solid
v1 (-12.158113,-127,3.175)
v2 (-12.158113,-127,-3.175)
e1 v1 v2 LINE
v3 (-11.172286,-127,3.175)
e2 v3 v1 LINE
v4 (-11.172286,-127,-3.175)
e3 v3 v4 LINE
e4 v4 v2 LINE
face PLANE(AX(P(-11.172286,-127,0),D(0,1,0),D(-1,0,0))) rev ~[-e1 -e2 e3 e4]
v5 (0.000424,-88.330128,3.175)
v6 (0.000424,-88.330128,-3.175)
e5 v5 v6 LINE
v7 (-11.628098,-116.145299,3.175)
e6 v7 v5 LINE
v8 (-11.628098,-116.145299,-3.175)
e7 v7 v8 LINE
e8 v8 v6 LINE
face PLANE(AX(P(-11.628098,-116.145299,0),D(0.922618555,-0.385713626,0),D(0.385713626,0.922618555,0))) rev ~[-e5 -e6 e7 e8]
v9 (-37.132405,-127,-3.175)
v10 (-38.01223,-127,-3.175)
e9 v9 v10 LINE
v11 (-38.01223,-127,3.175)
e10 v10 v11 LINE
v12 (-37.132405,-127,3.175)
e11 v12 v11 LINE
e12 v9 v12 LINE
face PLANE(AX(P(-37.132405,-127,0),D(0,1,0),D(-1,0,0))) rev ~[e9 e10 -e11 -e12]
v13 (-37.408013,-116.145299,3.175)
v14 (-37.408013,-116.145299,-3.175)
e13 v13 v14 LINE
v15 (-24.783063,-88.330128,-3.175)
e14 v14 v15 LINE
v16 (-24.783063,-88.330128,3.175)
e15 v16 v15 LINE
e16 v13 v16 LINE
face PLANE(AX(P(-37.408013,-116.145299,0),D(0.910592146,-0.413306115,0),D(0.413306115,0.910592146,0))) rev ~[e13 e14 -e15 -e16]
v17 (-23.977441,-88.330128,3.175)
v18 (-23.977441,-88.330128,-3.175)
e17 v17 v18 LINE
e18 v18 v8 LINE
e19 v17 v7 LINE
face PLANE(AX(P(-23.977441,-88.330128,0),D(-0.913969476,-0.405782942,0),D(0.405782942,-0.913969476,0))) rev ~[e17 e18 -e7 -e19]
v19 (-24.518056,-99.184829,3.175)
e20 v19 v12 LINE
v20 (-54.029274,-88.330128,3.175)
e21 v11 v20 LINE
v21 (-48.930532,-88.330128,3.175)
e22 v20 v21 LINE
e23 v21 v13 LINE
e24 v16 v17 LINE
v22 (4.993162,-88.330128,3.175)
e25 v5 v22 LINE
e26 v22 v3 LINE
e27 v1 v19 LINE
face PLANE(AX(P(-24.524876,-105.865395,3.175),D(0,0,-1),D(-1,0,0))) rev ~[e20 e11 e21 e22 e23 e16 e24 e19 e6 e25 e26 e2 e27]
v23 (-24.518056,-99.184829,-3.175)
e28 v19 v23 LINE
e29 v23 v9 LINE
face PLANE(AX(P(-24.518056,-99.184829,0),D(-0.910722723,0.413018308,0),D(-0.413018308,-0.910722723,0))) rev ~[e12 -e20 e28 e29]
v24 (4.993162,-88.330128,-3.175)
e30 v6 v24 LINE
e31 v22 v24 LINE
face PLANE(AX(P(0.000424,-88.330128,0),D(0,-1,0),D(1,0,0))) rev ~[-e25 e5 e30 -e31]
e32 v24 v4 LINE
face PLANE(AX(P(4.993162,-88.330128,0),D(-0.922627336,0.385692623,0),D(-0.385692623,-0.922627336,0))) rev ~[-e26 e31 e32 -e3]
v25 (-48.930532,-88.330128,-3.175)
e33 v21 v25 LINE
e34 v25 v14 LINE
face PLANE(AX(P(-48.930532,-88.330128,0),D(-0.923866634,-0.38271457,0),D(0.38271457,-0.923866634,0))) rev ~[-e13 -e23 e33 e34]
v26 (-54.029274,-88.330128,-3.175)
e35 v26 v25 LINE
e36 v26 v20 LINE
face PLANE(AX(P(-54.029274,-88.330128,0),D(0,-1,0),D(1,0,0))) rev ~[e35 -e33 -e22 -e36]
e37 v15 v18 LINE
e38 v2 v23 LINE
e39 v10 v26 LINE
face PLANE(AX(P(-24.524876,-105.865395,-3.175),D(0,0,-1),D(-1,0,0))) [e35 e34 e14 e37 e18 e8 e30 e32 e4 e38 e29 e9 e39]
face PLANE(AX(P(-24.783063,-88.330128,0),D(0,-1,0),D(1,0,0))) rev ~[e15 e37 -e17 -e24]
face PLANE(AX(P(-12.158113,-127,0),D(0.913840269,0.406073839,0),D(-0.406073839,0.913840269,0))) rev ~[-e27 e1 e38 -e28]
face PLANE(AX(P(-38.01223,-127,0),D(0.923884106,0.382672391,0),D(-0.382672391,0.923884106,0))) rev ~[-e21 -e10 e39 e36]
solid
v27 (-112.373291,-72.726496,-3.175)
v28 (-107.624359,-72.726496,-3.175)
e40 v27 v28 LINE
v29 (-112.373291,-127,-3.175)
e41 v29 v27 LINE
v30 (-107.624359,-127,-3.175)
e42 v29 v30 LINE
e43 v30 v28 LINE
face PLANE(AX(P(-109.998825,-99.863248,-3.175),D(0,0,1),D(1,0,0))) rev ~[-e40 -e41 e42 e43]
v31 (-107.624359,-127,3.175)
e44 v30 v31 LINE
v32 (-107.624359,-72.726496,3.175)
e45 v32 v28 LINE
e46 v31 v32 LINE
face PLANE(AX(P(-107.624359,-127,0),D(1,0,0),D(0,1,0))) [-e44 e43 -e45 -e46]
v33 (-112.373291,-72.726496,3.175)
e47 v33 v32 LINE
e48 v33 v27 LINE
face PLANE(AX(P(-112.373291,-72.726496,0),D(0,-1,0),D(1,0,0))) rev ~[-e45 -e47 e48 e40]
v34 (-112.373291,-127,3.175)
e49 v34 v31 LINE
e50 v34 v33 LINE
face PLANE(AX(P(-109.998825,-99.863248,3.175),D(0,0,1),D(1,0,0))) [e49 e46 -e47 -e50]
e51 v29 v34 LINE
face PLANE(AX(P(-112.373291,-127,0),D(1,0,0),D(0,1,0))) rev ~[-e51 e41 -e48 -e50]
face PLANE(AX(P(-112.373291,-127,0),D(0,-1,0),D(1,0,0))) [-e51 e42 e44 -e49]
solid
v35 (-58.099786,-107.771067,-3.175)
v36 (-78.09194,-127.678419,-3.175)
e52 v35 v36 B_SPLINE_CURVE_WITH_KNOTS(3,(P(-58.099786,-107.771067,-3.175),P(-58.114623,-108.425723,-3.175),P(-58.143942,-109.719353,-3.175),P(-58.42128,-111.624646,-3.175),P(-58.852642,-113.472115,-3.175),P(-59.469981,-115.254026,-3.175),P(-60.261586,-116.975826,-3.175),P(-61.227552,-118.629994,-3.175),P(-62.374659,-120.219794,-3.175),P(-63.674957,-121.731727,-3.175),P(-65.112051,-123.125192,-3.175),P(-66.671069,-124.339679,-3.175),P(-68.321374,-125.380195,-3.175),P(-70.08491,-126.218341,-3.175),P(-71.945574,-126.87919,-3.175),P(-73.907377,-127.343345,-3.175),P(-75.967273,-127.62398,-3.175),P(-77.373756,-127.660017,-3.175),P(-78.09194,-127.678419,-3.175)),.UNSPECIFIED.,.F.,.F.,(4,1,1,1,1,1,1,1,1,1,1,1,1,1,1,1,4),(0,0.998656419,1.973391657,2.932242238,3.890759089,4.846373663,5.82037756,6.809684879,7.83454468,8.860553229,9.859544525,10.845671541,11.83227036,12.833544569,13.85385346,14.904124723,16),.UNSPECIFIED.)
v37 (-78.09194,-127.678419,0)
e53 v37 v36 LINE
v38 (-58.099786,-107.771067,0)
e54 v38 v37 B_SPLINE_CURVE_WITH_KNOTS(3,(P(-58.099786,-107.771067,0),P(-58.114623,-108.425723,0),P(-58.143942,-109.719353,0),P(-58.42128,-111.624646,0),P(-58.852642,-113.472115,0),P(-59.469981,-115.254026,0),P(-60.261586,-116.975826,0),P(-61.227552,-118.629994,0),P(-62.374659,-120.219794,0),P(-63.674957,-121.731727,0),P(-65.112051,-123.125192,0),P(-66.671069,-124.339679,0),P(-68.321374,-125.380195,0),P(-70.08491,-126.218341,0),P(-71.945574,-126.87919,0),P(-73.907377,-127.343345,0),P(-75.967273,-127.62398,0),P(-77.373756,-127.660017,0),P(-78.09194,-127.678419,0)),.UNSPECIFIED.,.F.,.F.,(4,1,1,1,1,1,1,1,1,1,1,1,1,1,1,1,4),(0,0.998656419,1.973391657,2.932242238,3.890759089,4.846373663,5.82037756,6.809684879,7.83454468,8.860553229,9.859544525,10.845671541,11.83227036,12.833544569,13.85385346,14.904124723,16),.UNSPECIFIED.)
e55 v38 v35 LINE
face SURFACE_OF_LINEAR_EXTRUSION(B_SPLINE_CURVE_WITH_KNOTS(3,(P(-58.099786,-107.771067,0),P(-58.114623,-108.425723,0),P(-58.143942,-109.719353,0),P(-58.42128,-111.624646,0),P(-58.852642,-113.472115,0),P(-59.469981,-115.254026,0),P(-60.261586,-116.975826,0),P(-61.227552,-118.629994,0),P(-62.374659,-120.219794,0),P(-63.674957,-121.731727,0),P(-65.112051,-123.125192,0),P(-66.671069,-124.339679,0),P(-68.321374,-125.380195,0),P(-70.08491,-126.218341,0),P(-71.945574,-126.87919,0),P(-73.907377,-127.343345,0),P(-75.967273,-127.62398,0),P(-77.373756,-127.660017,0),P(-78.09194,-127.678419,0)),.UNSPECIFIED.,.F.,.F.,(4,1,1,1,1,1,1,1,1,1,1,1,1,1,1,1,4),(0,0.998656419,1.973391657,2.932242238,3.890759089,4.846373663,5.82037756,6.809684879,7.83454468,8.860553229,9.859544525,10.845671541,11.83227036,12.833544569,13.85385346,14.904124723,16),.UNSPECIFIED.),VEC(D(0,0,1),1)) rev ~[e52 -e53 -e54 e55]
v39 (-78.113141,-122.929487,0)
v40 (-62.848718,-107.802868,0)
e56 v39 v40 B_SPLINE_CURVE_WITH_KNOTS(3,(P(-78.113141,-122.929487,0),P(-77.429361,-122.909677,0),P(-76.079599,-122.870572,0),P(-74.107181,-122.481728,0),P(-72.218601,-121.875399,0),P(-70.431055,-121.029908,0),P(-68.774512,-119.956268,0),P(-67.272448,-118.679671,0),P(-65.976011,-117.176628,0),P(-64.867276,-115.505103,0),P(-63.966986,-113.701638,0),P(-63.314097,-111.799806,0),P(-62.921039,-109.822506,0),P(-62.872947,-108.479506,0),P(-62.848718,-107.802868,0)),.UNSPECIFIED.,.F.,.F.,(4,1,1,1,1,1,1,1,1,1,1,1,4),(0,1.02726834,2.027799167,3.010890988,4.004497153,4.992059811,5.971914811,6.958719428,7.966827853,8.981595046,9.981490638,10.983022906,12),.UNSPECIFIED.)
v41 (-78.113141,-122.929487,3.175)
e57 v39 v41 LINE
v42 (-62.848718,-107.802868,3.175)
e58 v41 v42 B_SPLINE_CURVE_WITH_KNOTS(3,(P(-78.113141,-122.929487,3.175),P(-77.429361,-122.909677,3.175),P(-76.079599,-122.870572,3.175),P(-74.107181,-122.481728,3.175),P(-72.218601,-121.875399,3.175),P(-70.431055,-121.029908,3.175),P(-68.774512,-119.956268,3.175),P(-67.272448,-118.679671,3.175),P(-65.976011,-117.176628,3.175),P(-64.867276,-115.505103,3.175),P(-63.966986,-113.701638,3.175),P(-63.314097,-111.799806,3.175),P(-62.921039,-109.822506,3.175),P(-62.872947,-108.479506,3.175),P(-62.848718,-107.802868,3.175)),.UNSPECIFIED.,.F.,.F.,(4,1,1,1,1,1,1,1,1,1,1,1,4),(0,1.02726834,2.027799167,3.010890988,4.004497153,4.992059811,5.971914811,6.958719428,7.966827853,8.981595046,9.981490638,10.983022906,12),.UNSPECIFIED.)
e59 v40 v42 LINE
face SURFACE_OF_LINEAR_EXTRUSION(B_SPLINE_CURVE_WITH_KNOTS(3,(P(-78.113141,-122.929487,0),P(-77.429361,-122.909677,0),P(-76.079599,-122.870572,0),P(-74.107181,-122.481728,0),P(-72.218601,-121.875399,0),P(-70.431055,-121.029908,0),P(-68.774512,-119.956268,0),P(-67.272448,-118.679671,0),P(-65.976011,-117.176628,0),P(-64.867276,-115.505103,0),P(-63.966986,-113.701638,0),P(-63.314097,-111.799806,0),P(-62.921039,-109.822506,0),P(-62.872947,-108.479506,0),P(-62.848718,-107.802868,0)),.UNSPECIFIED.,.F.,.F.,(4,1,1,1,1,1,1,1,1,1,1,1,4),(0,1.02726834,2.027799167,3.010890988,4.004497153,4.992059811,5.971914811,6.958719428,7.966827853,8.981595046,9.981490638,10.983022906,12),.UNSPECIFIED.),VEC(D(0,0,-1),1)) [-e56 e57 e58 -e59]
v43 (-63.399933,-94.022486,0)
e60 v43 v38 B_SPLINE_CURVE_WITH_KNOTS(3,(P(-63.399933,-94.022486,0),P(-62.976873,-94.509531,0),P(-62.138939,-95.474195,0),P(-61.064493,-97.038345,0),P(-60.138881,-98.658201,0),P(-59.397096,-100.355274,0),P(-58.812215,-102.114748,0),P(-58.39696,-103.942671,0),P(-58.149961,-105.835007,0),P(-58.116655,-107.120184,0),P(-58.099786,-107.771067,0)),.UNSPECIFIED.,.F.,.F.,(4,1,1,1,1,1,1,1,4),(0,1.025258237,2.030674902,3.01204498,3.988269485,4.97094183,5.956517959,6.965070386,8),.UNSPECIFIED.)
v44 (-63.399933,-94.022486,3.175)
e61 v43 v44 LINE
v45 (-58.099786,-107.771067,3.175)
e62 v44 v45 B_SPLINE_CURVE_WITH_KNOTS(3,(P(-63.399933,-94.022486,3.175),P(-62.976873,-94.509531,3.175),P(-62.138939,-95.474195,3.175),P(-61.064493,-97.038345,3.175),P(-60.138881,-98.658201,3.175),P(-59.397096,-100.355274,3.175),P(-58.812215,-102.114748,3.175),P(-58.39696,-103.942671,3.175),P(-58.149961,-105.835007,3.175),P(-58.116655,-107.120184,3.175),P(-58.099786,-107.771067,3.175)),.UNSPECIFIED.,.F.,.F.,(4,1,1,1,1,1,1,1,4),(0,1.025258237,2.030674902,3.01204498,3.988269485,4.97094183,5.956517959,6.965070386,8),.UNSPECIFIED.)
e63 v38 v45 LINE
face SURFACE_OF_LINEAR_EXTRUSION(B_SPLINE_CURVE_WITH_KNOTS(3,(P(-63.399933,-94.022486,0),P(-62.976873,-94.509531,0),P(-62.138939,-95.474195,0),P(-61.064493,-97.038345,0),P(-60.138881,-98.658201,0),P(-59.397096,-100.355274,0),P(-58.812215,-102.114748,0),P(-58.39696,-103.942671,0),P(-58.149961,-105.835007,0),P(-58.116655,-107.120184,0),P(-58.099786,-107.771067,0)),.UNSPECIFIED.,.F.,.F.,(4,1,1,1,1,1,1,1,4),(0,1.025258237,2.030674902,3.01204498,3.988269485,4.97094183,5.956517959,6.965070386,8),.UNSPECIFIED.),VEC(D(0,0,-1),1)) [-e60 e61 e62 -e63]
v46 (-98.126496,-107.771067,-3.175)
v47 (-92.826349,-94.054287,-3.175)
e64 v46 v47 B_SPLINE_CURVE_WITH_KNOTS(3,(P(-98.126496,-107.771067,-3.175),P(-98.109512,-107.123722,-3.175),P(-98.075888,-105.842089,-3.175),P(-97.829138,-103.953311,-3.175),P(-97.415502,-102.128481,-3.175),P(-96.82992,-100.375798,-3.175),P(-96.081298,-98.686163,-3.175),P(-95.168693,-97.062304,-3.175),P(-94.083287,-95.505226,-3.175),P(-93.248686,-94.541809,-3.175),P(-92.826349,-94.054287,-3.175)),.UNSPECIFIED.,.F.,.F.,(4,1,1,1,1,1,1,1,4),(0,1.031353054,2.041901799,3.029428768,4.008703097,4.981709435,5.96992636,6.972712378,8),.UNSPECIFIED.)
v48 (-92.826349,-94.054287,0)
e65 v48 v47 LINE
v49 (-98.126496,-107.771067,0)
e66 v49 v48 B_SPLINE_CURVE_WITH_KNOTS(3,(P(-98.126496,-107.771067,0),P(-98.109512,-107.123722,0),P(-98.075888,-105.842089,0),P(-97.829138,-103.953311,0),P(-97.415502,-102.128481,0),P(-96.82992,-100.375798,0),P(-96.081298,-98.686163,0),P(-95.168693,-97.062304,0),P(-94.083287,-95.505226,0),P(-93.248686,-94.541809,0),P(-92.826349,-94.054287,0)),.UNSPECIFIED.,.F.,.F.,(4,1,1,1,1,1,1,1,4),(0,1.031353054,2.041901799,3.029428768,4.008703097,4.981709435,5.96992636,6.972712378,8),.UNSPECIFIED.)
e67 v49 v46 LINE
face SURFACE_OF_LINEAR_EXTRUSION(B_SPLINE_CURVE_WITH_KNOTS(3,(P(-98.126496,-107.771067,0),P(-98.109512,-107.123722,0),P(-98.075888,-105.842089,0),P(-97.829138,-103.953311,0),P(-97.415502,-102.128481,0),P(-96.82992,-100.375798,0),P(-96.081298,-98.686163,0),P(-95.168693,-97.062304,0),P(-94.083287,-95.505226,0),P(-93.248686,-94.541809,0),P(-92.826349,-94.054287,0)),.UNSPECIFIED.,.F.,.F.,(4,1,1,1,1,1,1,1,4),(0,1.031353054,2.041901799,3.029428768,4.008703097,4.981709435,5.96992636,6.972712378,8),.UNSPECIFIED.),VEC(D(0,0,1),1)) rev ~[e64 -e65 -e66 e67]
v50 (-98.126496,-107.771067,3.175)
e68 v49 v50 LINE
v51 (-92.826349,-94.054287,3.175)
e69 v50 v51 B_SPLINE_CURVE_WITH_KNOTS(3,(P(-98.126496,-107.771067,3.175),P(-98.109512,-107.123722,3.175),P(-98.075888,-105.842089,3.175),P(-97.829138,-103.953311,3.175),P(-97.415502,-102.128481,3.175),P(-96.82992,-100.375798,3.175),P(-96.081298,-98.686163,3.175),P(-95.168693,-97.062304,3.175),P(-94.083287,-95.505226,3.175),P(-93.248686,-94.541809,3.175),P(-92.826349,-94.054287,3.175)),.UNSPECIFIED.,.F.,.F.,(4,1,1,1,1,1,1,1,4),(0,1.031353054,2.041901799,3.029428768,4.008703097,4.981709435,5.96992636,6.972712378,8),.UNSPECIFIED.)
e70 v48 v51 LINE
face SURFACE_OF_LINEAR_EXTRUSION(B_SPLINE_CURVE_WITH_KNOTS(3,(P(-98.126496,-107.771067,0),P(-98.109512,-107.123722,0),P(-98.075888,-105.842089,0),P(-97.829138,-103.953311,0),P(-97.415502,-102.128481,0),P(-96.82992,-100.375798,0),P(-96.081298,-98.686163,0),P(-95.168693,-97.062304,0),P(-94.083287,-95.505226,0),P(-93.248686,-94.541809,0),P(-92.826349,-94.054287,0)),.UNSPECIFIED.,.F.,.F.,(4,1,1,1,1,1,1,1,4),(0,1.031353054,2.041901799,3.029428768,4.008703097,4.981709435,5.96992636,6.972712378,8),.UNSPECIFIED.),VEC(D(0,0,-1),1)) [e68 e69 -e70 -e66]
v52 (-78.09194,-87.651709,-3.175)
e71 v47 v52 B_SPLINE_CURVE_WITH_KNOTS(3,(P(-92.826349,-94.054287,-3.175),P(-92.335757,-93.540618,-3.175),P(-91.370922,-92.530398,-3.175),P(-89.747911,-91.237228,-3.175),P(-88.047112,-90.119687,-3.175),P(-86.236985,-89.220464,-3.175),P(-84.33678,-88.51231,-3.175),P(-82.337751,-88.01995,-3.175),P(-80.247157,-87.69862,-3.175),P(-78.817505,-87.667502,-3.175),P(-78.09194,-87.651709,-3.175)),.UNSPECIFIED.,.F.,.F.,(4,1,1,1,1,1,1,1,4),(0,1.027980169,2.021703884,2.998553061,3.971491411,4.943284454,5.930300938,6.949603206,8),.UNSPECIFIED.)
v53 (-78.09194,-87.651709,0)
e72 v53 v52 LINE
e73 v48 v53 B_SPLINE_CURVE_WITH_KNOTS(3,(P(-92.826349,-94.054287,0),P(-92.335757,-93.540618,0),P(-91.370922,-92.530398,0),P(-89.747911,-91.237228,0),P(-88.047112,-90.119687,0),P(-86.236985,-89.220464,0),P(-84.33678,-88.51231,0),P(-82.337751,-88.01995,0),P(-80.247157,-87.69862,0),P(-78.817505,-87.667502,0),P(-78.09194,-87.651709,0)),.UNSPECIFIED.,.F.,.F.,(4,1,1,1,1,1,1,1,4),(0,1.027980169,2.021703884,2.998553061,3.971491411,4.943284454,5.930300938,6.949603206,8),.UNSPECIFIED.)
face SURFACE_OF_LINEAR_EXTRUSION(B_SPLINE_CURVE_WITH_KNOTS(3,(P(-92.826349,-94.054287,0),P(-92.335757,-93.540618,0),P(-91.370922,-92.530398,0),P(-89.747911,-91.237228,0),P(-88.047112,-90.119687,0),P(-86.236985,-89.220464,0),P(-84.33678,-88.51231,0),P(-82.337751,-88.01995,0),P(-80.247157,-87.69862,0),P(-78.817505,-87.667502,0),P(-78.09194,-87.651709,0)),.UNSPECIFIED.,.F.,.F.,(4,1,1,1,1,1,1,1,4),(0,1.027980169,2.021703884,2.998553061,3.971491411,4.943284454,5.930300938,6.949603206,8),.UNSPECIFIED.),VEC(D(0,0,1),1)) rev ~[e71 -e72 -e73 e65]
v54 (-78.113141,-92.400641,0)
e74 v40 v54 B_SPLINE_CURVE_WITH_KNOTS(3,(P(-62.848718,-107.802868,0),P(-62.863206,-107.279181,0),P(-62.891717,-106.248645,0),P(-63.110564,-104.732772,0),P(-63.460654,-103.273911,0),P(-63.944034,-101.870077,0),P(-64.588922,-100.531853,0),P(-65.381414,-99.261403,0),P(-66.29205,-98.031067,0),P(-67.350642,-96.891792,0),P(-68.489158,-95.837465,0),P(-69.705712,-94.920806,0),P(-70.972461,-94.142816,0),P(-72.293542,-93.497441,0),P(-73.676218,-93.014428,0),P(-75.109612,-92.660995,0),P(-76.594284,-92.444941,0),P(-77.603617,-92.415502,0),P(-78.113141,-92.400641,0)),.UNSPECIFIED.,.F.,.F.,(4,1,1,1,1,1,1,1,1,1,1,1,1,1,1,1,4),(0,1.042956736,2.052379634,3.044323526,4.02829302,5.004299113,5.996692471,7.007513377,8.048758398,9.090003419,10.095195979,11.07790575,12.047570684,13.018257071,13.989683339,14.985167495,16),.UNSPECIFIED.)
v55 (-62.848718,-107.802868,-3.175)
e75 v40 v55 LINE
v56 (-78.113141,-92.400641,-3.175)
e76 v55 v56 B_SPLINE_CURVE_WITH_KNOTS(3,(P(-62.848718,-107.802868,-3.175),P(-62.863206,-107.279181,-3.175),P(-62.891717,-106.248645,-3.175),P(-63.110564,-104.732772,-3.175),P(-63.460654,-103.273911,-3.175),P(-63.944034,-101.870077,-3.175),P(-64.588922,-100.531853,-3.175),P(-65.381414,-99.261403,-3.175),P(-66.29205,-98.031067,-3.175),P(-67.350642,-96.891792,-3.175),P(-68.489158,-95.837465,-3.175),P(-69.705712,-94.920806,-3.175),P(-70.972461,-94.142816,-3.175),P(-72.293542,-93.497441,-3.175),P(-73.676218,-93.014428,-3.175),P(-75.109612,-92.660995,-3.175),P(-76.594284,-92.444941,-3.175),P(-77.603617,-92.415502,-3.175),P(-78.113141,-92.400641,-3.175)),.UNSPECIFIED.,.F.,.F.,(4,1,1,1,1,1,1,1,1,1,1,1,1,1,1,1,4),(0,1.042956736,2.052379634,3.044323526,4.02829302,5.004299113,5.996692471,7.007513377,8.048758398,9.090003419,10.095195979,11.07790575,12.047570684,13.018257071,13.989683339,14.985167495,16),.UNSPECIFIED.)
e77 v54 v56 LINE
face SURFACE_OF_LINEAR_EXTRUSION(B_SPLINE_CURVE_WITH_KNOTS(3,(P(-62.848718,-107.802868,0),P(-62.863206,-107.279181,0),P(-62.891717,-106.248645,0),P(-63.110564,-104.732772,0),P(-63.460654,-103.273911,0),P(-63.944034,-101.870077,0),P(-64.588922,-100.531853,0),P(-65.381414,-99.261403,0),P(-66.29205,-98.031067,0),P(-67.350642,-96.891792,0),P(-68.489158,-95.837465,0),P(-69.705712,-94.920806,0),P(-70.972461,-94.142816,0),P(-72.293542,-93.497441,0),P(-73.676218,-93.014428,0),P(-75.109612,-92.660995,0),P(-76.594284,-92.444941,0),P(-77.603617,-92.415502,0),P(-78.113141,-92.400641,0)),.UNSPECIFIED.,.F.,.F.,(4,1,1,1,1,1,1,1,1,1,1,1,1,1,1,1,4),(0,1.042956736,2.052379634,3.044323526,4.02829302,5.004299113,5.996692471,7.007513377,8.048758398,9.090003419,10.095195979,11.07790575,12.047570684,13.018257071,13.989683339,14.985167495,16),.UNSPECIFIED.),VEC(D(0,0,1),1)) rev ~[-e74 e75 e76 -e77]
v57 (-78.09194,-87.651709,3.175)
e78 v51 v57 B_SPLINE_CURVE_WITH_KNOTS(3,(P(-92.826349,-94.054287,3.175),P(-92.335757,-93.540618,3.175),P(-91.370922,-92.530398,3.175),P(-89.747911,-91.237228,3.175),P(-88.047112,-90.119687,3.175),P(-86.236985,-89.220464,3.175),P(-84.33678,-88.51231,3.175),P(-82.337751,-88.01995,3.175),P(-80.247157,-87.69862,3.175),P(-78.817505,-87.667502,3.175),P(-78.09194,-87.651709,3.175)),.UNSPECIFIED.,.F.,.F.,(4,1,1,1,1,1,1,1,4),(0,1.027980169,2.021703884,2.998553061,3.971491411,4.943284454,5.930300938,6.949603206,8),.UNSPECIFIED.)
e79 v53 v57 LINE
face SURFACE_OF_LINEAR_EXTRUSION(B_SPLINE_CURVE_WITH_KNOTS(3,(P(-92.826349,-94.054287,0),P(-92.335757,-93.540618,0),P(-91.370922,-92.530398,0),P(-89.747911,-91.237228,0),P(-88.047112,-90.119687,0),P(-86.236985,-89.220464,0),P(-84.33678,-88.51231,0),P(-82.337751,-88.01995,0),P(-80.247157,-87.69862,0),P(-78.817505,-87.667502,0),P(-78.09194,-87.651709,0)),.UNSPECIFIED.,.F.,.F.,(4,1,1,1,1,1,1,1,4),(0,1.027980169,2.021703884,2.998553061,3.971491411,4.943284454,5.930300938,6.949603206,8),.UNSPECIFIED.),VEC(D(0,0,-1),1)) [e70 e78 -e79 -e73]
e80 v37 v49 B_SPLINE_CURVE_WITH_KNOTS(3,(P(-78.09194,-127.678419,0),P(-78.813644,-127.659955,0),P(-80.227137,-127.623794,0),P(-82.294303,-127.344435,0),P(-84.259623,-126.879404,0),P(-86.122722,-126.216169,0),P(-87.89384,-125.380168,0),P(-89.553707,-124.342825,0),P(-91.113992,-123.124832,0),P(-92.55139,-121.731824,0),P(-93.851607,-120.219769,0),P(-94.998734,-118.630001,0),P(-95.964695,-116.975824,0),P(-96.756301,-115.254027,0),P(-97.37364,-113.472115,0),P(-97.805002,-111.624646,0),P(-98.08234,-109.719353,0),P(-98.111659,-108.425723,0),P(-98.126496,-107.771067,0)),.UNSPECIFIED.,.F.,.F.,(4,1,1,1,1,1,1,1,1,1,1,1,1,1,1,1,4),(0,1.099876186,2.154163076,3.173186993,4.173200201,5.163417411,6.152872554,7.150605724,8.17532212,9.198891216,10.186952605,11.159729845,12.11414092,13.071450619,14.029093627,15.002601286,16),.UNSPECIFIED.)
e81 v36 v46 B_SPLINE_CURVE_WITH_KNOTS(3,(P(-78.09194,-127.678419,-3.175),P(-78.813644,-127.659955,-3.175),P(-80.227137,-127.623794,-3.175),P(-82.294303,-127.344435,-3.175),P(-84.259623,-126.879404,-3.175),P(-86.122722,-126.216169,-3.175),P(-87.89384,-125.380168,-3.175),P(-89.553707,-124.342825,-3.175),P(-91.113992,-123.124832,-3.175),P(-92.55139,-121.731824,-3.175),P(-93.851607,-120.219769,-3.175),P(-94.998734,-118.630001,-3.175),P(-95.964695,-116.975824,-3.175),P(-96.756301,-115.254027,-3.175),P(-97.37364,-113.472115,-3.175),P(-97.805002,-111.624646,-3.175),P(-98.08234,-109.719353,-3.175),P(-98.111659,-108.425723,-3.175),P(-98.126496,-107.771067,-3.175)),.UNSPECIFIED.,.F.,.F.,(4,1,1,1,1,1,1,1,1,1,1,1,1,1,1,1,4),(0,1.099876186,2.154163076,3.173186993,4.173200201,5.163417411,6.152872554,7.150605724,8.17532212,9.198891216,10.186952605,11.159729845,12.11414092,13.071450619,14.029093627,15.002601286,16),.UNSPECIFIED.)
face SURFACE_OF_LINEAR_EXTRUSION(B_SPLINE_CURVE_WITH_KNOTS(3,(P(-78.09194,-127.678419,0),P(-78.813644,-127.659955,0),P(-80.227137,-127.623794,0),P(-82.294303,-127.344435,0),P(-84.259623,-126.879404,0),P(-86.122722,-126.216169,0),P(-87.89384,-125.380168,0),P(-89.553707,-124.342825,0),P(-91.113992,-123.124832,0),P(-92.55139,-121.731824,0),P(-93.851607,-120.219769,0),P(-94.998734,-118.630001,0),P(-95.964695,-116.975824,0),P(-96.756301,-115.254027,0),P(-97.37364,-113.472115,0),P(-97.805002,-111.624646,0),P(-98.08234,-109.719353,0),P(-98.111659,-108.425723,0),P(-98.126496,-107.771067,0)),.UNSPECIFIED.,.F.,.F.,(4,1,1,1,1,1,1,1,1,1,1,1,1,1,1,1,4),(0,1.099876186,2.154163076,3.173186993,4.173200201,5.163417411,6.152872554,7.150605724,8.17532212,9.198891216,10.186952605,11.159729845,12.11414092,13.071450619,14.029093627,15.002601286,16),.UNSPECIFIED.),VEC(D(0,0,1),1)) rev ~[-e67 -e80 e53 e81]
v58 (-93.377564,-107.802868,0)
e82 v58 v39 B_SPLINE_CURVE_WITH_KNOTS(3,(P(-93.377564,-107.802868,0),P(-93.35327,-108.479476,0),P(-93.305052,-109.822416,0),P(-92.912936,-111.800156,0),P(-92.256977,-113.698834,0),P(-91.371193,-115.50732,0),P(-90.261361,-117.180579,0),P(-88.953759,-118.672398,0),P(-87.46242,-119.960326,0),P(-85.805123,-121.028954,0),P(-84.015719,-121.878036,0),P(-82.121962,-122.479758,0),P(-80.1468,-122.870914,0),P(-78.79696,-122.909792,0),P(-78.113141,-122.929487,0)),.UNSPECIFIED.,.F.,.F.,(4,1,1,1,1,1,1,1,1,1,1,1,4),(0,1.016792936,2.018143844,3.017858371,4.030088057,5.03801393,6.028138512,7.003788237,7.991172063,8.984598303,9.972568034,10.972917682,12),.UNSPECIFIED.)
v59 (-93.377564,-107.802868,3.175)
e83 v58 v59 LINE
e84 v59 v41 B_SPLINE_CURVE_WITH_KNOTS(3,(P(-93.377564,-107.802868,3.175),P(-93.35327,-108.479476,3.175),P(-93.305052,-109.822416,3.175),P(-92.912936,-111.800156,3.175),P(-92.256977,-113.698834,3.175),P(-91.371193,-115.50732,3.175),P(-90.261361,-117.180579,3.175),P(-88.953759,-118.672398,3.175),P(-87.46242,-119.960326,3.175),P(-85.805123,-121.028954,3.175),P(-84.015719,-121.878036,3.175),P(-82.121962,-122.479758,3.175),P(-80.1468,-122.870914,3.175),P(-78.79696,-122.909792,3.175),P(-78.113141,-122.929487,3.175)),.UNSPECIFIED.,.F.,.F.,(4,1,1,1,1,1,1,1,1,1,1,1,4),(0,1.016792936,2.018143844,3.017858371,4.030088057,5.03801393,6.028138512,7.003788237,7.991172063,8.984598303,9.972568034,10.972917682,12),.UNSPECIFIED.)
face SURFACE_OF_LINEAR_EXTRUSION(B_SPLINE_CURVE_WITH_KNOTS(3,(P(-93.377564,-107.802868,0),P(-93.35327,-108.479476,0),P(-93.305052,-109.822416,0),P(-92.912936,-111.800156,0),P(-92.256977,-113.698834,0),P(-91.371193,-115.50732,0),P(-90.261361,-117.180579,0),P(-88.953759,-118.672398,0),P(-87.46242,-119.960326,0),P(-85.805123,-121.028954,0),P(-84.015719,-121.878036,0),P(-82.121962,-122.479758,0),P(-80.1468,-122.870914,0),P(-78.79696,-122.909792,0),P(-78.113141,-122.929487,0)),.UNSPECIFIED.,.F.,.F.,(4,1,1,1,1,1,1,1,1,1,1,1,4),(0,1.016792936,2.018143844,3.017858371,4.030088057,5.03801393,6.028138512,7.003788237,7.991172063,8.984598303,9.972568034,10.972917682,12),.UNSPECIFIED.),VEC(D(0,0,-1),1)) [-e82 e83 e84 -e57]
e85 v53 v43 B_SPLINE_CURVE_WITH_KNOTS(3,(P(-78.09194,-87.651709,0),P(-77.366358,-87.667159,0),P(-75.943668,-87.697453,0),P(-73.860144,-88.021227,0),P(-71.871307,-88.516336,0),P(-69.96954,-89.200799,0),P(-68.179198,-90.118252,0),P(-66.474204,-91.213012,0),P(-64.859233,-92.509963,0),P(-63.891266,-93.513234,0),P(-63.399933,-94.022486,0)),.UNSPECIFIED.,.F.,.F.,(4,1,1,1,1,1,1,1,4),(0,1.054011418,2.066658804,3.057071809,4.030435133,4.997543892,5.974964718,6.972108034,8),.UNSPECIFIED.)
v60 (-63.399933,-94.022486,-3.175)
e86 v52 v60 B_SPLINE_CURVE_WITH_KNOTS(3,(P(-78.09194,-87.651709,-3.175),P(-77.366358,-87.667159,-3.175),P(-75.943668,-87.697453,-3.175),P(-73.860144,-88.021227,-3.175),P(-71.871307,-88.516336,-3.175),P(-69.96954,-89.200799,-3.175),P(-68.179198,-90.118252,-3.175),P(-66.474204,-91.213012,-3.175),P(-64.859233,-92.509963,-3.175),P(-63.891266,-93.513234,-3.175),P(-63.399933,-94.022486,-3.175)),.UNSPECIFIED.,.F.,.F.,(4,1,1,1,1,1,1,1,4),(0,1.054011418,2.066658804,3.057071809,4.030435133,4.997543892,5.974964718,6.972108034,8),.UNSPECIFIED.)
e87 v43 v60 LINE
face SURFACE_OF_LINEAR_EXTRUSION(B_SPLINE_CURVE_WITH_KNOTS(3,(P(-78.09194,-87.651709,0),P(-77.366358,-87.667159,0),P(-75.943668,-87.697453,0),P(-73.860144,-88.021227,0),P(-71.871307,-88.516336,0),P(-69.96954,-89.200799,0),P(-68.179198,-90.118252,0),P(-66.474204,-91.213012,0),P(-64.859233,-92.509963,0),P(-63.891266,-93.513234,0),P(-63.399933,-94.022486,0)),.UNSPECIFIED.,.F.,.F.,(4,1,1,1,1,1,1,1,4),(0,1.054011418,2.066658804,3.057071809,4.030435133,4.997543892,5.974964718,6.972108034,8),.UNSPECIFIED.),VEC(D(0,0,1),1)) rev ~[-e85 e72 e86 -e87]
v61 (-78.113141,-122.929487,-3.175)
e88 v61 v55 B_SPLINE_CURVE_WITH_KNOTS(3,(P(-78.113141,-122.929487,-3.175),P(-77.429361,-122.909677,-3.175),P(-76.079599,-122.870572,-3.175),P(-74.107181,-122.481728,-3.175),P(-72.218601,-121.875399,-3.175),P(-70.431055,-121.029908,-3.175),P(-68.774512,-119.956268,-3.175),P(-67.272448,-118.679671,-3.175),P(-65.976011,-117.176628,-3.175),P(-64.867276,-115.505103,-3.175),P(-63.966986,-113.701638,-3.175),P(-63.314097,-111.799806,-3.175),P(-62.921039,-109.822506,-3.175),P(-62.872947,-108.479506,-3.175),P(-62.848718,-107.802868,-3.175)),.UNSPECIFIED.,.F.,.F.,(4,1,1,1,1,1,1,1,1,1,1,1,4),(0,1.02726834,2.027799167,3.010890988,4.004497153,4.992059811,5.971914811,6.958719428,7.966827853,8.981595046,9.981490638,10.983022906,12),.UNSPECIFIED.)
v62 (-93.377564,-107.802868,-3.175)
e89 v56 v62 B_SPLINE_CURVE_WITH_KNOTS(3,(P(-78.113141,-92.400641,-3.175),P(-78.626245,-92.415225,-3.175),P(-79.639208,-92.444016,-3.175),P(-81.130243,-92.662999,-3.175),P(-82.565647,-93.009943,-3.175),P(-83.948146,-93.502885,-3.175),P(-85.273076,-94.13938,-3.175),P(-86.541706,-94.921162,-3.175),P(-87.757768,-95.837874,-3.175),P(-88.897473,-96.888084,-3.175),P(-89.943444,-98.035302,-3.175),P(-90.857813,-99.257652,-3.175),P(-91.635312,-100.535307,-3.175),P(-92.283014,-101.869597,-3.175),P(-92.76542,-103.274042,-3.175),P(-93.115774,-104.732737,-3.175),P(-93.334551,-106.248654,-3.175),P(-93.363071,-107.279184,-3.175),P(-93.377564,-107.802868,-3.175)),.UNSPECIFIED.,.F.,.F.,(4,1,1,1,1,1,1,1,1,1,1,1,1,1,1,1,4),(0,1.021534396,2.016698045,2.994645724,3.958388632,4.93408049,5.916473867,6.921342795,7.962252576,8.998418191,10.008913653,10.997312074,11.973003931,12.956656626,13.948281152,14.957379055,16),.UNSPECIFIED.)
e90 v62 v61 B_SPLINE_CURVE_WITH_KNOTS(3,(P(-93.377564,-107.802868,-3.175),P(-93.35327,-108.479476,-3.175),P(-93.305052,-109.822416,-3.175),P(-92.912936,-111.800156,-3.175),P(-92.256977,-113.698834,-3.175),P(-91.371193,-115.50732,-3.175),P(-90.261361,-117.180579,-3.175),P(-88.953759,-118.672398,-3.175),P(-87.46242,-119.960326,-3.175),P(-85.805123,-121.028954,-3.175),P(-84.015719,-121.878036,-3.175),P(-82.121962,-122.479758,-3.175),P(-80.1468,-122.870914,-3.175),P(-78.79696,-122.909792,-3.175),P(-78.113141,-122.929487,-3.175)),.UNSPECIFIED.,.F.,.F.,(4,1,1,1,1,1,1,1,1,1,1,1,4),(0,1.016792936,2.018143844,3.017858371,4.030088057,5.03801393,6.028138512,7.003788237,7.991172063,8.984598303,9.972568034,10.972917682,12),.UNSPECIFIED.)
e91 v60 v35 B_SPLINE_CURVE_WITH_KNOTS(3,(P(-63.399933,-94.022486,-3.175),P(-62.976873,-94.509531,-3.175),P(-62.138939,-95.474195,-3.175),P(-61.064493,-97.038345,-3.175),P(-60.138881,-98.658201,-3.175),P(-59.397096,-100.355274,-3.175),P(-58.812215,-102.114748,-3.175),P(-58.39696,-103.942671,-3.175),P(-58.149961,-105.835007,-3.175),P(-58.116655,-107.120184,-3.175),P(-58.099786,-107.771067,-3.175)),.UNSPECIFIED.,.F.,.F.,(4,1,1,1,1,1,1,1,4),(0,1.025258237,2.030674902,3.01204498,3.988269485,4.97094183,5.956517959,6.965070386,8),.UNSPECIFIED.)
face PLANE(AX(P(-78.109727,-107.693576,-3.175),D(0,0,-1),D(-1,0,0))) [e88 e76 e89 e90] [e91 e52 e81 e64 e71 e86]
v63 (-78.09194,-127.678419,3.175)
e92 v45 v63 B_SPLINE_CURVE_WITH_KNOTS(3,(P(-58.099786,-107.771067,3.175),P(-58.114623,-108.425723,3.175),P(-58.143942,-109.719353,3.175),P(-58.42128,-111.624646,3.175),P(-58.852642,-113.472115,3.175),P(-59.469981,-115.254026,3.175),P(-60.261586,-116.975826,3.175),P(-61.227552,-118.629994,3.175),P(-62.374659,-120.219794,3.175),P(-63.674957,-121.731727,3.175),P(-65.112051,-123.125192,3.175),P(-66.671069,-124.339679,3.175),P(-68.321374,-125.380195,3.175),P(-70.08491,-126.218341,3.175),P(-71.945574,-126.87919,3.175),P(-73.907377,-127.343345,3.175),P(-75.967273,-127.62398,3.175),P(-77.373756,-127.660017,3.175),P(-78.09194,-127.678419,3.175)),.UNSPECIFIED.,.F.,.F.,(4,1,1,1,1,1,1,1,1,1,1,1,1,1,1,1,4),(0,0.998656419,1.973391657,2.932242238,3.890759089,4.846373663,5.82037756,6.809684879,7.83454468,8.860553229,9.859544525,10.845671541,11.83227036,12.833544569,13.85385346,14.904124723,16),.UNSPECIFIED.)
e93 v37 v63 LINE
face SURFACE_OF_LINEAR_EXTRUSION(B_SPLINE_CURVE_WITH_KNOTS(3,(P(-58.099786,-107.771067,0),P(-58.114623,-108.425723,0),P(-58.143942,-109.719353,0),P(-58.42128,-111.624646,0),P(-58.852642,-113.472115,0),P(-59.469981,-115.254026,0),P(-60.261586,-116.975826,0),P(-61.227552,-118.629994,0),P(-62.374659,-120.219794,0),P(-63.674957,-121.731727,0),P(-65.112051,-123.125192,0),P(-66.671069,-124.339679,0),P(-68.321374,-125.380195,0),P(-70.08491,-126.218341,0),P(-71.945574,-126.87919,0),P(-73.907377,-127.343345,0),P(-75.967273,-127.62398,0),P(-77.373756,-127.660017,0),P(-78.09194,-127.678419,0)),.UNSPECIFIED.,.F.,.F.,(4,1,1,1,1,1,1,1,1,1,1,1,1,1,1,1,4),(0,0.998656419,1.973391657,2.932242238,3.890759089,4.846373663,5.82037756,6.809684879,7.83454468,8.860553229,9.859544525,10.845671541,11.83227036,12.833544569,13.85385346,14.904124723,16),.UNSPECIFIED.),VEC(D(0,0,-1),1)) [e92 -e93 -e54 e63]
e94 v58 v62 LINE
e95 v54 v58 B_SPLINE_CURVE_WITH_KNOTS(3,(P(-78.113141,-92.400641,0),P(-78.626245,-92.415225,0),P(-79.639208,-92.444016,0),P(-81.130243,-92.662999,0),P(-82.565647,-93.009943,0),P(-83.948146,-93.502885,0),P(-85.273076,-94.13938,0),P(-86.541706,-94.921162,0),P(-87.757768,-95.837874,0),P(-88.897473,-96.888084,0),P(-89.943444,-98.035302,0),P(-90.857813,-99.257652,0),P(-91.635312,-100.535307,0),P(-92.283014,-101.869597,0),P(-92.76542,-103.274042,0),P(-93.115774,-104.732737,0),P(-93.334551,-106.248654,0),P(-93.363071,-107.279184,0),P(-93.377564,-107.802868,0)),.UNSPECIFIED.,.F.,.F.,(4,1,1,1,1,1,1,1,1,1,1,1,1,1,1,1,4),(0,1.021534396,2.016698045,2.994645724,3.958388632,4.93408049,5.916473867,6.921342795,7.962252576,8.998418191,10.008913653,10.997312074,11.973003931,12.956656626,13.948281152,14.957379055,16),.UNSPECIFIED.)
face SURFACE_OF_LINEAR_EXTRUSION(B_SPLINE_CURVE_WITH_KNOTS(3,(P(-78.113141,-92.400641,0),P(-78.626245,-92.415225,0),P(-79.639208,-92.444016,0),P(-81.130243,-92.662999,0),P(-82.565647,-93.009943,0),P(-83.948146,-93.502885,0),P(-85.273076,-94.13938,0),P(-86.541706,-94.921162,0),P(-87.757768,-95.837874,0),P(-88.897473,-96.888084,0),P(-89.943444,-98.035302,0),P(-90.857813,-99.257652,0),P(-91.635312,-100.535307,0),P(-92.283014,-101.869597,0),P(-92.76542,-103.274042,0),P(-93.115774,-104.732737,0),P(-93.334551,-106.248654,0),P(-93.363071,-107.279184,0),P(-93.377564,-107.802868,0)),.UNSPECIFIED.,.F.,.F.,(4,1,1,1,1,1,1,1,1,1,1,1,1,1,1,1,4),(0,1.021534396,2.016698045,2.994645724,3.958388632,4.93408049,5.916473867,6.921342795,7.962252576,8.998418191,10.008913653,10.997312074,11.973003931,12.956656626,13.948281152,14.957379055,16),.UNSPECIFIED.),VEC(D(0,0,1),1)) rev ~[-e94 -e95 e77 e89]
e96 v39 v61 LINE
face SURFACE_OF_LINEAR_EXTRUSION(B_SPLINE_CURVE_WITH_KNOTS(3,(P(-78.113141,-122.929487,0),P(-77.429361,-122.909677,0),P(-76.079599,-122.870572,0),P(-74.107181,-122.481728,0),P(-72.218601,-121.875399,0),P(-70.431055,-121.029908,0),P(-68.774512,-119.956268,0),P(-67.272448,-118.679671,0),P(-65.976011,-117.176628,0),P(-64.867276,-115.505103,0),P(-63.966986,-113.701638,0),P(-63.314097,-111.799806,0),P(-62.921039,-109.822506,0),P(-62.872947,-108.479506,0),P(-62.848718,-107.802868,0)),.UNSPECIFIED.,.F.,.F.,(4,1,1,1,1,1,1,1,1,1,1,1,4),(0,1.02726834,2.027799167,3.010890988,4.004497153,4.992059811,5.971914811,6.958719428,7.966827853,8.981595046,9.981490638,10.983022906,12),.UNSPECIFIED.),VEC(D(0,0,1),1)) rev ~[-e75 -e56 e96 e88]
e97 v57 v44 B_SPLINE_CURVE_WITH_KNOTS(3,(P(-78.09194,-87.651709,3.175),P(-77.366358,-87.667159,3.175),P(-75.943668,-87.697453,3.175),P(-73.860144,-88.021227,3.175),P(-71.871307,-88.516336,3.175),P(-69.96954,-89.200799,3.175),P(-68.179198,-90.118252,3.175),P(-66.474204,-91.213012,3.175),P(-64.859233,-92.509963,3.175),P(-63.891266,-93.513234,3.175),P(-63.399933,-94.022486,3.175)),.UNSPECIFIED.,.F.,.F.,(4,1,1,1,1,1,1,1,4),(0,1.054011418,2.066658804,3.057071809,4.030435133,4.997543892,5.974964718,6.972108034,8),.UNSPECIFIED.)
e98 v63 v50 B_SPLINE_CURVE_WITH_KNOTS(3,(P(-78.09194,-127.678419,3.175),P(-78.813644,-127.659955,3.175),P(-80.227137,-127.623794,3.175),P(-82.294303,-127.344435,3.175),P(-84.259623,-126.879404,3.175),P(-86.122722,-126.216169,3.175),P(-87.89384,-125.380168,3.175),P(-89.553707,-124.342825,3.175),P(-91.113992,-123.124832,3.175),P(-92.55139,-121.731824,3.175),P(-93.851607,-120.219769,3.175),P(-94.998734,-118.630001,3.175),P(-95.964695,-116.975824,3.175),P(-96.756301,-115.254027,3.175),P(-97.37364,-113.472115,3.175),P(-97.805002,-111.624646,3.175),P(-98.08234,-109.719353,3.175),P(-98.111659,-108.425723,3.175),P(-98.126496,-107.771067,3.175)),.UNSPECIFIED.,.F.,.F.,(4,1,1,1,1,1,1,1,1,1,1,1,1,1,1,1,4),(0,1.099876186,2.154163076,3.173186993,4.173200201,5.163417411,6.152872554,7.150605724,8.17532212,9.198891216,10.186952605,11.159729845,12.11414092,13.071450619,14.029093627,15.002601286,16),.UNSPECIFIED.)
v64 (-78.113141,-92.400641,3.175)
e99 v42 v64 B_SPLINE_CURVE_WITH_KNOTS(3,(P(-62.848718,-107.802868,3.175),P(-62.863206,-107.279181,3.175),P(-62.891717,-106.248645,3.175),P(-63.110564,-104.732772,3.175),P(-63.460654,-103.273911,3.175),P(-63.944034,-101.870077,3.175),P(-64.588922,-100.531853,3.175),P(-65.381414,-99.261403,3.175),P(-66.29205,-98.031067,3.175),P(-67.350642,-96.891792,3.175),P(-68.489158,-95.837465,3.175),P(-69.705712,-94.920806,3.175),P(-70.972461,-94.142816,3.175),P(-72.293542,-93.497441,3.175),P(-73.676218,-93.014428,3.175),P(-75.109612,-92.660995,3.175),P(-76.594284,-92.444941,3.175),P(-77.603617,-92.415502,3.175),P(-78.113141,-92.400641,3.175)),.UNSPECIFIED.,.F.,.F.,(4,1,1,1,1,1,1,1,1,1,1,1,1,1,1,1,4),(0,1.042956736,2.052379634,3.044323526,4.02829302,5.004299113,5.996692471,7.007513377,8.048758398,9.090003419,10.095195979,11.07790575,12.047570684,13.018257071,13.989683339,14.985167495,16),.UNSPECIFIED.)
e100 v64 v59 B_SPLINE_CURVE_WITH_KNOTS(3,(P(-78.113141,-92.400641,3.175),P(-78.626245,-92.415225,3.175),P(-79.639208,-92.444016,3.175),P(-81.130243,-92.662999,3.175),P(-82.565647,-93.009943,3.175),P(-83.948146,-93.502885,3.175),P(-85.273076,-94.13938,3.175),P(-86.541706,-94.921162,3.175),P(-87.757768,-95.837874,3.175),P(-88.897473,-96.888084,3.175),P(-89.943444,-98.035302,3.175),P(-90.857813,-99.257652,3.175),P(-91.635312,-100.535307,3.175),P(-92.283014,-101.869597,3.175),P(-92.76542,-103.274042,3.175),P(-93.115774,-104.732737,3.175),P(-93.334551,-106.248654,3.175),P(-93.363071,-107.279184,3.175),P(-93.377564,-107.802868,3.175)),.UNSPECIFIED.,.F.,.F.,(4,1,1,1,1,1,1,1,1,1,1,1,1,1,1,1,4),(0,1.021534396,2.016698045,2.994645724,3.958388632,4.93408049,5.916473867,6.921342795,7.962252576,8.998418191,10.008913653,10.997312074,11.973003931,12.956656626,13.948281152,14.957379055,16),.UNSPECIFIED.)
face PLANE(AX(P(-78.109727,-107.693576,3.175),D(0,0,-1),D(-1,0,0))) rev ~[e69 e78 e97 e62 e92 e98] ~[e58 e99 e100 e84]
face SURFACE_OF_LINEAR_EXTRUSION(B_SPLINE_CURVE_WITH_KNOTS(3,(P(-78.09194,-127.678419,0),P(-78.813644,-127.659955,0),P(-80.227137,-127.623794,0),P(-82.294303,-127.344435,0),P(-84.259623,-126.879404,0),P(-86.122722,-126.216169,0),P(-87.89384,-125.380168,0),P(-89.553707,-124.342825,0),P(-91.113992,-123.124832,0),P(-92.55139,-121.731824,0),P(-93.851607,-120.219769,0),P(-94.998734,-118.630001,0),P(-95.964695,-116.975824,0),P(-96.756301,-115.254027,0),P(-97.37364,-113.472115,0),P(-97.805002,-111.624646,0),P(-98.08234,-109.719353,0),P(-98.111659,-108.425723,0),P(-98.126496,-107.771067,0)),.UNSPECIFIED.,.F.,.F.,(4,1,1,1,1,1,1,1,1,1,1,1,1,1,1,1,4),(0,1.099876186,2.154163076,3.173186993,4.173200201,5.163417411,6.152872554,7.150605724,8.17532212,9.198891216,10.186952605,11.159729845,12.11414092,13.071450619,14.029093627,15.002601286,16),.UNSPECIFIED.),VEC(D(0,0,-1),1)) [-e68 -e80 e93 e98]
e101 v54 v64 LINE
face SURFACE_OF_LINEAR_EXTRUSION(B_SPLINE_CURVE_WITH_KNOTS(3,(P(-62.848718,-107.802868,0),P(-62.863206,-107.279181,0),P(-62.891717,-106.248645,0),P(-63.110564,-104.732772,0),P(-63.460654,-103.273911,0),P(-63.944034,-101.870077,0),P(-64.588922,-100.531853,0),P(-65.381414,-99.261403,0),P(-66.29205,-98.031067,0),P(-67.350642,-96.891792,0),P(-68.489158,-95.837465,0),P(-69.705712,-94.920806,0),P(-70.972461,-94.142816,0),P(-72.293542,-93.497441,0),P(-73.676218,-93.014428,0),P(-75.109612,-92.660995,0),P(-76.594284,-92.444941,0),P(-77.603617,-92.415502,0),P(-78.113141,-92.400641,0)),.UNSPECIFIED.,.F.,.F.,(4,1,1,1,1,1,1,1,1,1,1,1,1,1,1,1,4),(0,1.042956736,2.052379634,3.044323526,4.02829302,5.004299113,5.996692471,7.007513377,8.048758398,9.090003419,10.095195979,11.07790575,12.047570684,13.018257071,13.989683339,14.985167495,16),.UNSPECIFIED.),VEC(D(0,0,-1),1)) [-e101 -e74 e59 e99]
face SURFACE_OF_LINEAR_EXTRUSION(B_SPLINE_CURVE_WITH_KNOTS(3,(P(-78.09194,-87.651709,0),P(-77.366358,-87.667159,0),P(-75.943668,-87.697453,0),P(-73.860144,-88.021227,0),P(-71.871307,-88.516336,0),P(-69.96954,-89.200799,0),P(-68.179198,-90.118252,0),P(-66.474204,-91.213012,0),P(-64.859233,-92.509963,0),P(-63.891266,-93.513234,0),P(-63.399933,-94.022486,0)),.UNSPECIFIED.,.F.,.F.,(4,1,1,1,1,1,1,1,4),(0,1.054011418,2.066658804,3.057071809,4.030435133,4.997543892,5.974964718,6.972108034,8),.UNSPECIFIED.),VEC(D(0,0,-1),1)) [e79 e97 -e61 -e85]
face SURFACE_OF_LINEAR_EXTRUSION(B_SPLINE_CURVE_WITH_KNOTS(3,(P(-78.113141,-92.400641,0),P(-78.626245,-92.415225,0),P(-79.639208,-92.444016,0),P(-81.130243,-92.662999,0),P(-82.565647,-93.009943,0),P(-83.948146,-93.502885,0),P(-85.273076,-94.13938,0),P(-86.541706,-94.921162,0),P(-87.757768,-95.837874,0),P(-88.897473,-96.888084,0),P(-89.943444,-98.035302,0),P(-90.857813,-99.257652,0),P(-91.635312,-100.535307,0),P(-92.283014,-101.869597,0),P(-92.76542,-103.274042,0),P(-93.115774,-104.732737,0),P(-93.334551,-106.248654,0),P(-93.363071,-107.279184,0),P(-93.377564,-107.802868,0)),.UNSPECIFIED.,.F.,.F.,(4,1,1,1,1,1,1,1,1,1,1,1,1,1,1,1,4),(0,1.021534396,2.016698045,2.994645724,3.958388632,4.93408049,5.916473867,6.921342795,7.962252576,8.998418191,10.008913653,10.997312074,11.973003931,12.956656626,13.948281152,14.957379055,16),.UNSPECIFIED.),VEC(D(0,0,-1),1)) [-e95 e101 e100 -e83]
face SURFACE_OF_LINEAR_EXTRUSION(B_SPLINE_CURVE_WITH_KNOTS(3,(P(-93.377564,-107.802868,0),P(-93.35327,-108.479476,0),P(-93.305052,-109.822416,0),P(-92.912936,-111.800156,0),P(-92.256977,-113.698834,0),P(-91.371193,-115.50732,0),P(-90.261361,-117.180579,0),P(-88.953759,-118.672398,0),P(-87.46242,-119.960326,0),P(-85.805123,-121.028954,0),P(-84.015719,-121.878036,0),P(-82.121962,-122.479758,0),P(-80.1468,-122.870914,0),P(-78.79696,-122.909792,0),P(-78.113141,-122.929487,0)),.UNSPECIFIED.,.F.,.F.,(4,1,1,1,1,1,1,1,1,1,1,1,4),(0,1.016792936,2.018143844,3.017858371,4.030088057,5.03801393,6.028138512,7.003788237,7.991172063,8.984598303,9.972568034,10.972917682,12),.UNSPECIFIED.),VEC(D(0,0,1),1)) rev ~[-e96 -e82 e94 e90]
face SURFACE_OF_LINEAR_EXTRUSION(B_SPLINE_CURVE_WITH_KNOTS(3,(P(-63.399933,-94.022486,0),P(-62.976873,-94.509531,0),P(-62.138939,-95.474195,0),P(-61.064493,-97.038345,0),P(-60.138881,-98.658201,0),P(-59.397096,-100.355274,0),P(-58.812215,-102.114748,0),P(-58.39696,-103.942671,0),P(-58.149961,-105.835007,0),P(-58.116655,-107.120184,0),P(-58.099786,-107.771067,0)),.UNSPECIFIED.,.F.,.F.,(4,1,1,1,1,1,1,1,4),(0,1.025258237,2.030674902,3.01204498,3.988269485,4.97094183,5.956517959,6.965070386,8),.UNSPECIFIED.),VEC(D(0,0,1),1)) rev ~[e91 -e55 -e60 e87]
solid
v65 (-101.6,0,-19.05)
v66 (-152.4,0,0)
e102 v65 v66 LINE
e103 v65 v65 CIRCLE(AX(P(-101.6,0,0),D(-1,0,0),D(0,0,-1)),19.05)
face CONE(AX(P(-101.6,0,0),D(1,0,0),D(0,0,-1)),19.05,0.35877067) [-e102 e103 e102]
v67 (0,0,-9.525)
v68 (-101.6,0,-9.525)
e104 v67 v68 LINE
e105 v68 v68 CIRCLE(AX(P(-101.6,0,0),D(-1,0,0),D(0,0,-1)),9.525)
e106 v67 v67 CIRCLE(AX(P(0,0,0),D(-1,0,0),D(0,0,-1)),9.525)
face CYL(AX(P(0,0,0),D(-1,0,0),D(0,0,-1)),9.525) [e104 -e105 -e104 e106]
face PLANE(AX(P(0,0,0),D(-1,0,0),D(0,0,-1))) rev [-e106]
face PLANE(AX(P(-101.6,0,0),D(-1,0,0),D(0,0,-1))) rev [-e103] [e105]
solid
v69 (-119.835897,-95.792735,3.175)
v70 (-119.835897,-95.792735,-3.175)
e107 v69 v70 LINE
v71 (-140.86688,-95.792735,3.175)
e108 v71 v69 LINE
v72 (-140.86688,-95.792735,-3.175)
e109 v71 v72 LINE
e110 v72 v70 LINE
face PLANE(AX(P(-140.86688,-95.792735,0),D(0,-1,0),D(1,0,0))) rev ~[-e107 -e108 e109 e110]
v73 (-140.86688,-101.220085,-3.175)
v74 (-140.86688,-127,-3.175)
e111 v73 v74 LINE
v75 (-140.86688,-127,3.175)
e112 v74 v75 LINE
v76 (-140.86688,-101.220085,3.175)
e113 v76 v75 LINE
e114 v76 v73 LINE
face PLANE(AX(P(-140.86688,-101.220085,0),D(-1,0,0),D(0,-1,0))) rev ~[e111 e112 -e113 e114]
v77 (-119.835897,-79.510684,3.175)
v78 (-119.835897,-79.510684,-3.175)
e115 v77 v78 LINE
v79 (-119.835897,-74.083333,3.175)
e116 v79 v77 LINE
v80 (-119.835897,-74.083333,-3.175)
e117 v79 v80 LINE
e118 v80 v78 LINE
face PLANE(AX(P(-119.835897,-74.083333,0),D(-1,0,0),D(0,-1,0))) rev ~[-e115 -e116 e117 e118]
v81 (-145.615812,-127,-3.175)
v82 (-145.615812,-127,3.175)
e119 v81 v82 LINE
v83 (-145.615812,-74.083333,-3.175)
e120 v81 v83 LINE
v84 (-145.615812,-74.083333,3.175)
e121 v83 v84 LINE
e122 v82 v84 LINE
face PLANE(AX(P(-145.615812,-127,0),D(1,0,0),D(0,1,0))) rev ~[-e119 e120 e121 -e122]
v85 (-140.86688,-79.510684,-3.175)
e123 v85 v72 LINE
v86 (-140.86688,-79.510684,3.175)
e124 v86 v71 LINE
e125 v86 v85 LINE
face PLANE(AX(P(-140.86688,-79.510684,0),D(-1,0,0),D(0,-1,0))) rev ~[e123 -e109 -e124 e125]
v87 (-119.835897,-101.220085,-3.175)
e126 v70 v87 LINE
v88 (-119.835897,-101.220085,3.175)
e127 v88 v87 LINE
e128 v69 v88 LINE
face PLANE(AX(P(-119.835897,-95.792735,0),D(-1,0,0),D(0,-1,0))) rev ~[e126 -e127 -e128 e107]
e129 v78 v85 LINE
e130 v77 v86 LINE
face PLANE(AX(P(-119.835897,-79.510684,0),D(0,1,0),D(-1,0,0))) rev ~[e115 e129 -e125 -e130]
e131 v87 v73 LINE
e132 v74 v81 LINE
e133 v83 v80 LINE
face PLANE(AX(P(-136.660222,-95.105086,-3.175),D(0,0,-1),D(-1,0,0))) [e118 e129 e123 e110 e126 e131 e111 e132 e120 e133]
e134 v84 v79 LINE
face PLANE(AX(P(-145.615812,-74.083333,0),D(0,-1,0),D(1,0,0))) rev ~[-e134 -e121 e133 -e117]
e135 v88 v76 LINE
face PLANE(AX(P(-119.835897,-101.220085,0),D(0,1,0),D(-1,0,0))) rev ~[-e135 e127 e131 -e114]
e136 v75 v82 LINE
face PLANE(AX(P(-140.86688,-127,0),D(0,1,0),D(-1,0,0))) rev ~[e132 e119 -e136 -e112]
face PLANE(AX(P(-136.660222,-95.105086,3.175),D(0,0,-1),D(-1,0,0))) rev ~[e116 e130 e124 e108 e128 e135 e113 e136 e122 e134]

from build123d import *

# Parameters (mm, degrees)
BOSS_EXTRUDE1_DEPTH   = 3.175
SKETCH2_W             = 4.748931624
SKETCH2_H             = 54.273504274
BOSS_EXTRUDE1_2_DEPTH = 3.175
BOSS_EXTRUDE1_3_DEPTH = 3.175
BOSS_EXTRUDE1_4_DEPTH = 3.175


with BuildPart() as part:
    # Sketch1 → Revolve1 (revolve)
    with BuildSketch(Plane(origin=(0, 0, 0), x_dir=(1, 0, 0), z_dir=(0, 1, 0))):
        Polygon((0, 0), (0, 9.525), (-101.6, 9.525), (-101.6, 19.05), (-152.4, 0), align=None)
    revolve(axis=Axis((0, 0, 0), (-1, 0, 0)))


with BuildPart() as body_2:
    # Sketch2 → Boss-Extrude1 (new, symmetric)
    with BuildSketch(Plane.XY):
        Polygon((-145.615811966, -74.083333333), (-119.835897436, -74.083333333), (-119.835897436, -79.510683761), (-140.866880342, -79.510683761), (-140.866880342, -95.792735043), (-119.835897436, -95.792735043), (-119.835897436, -101.22008547), (-140.866880342, -101.22008547), (-140.866880342, -127), (-145.615811966, -127), align=None)
    extrude(amount=BOSS_EXTRUDE1_DEPTH, both=True)


with BuildPart() as body_3:
    # Sketch2 → Boss-Extrude1 2 (new, symmetric)
    with BuildSketch(Plane.XY):
        with Locations((-109.998824786, -99.863247863)):
            Rectangle(SKETCH2_W, SKETCH2_H)
    extrude(amount=BOSS_EXTRUDE1_2_DEPTH, both=True)


with BuildPart() as body_4:
    # Sketch2 → Boss-Extrude1 3 (new, symmetric)
    with BuildSketch(Plane.XY):
        with BuildLine():
            add(Edge.make_bspline(
                [(-78.091940438, -87.651709402), (-77.366358099, -87.667159422), (-75.943668454, -87.697453137), (-73.860144466, -88.021227023), (-71.871307291, -88.516335984), (-69.969539862, -89.200798887), (-68.179198252, -90.118252187), (-66.474204443, -91.213011708), (-64.859232999, -92.509962825), (-63.891265771, -93.51323362), (-63.399933226, -94.022485978)],
                knots=[0, 0, 0, 0, 1.054011418, 2.066658804, 3.057071809, 4.030435133, 4.997543892, 5.974964718, 6.972108034, 8, 8, 8, 8], degree=3))
            add(Edge.make_bspline(
                [(-63.399933226, -94.022485978), (-62.976872731, -94.509530763), (-62.138939125, -95.474194675), (-61.064493138, -97.038345014), (-60.138881455, -98.658201296), (-59.397096211, -100.355273973), (-58.812215496, -102.114748168), (-58.396960326, -103.942671432), (-58.149961429, -105.835006919), (-58.116654667, -107.120183995), (-58.099786325, -107.771067041)],
                knots=[0, 0, 0, 0, 1.025258237, 2.030674902, 3.01204498, 3.988269485, 4.97094183, 5.956517959, 6.965070386, 8, 8, 8, 8], degree=3))
            add(Edge.make_bspline(
                [(-58.099786325, -107.771067041), (-58.11462321, -108.425722675), (-58.143941588, -109.719352738), (-58.421279598, -111.62464553), (-58.852642444, -113.472114873), (-59.46998095, -115.254026076), (-60.261585697, -116.975825967), (-61.227552044, -118.629994153), (-62.374658637, -120.219794263), (-63.674957159, -121.731726817), (-65.112051001, -123.125192208), (-66.671068958, -124.33967914), (-68.321373992, -125.380195044), (-70.084910405, -126.218340852), (-71.945573598, -126.879189892), (-73.90737689, -127.343344903), (-75.967272596, -127.623979883), (-77.373755586, -127.660017241), (-78.091940438, -127.678418803)],
                knots=[0, 0, 0, 0, 0.998656419, 1.973391657, 2.932242238, 3.890759089, 4.846373663, 5.82037756, 6.809684879, 7.83454468, 8.860553229, 9.859544525, 10.845671541, 11.83227036, 12.833544569, 13.85385346, 14.904124723, 16, 16, 16, 16], degree=3))
            add(Edge.make_bspline(
                [(-78.091940438, -127.678418803), (-78.813643935, -127.65995548), (-80.227136695, -127.623794127), (-82.294303327, -127.34443521), (-84.259622566, -126.879403807), (-86.122721615, -126.216169095), (-87.893840134, -125.380168255), (-89.553707409, -124.342824853), (-91.113991846, -123.12483203), (-92.551389706, -121.73182441), (-93.851606715, -120.219769118), (-94.998734341, -118.630000679), (-95.964695225, -116.975824266), (-96.756301403, -115.25402653), (-97.373639526, -113.472114752), (-97.805002475, -111.624645563), (-98.082340457, -109.719352729), (-98.111658839, -108.425722672), (-98.126495726, -107.771067041)],
                knots=[0, 0, 0, 0, 1.099876186, 2.154163076, 3.173186993, 4.173200201, 5.163417411, 6.152872554, 7.150605724, 8.17532212, 9.198891216, 10.186952605, 11.159729845, 12.11414092, 13.071450619, 14.029093627, 15.002601286, 16, 16, 16, 16], degree=3))
            add(Edge.make_bspline(
                [(-98.126495726, -107.771067041), (-98.109512344, -107.123721644), (-98.075888165, -105.842089013), (-97.829137611, -103.953310834), (-97.415502293, -102.128481261), (-96.829920465, -100.375798469), (-96.081297936, -98.68616271), (-95.16869275, -97.062303956), (-94.083286758, -95.505226496), (-93.248685824, -94.541809334), (-92.826348825, -94.054286859)],
                knots=[0, 0, 0, 0, 1.031353054, 2.041901799, 3.029428768, 4.008703097, 4.981709435, 5.96992636, 6.972712378, 8, 8, 8, 8], degree=3))
            add(Edge.make_bspline(
                [(-92.826348825, -94.054286859), (-92.335757032, -93.540618135), (-91.370921947, -92.530398204), (-89.747911421, -91.237227899), (-88.047111983, -90.119687259), (-86.236985123, -89.220463525), (-84.336780009, -88.512309745), (-82.337750985, -88.019950171), (-80.247156882, -87.698619685), (-78.817505468, -87.667501997), (-78.091940438, -87.651709402)],
                knots=[0, 0, 0, 0, 1.027980169, 2.021703884, 2.998553061, 3.971491411, 4.943284454, 5.930300938, 6.949603206, 8, 8, 8, 8], degree=3))
        make_face()
        with BuildLine():
            add(Edge.make_bspline(
                [(-78.113141026, -92.400641026), (-78.626245387, -92.415224733), (-79.639208404, -92.444015672), (-81.130242601, -92.662998517), (-82.56564731, -93.009942924), (-83.948145786, -93.502885203), (-85.273075893, -94.13938046), (-86.541706144, -94.92116162), (-87.757768033, -95.837874177), (-88.897473038, -96.888083617), (-89.94344371, -98.035301748), (-90.857813119, -99.257651936), (-91.635311751, -100.53530741), (-92.283014154, -101.869596792), (-92.76542045, -103.274041622), (-93.11577448, -104.732736879), (-93.334550735, -106.248654486), (-93.363070983, -107.279184167), (-93.377564103, -107.802867922)],
                knots=[0, 0, 0, 0, 1.021534396, 2.016698045, 2.994645724, 3.958388632, 4.93408049, 5.916473867, 6.921342795, 7.962252576, 8.998418191, 10.008913653, 10.997312074, 11.973003931, 12.956656626, 13.948281152, 14.957379055, 16, 16, 16, 16], degree=3))
            add(Edge.make_bspline(
                [(-93.377564103, -107.802867922), (-93.35327046, -108.479475952), (-93.305052121, -109.822416368), (-92.912936046, -111.800155961), (-92.256976815, -113.698833963), (-91.371192943, -115.5073198), (-90.261360827, -117.180579241), (-88.953758748, -118.672398112), (-87.462420421, -119.960326452), (-85.805123334, -121.028953521), (-84.015718766, -121.878035542), (-82.121962482, -122.479758151), (-80.146799608, -122.8709135), (-78.796959982, -122.909791744), (-78.113141026, -122.929487179)],
                knots=[0, 0, 0, 0, 1.016792936, 2.018143844, 3.017858371, 4.030088057, 5.03801393, 6.028138512, 7.003788237, 7.991172063, 8.984598303, 9.972568034, 10.972917682, 12, 12, 12, 12], degree=3))
            add(Edge.make_bspline(
                [(-78.113141026, -122.929487179), (-77.4293614, -122.90967699), (-76.079599413, -122.870572225), (-74.107180906, -122.481728165), (-72.218600617, -121.875399009), (-70.43105464, -121.029908455), (-68.774511945, -119.956268375), (-67.272447849, -118.679670769), (-65.976010514, -117.176628017), (-64.867276249, -115.505103474), (-63.96698621, -113.701637674), (-63.314097326, -111.799805533), (-62.921038587, -109.822505614), (-62.872947486, -108.479505852), (-62.848717949, -107.802867922)],
                knots=[0, 0, 0, 0, 1.02726834, 2.027799167, 3.010890988, 4.004497153, 4.992059811, 5.971914811, 6.958719428, 7.966827853, 8.981595046, 9.981490638, 10.983022906, 12, 12, 12, 12], degree=3))
            add(Edge.make_bspline(
                [(-62.848717949, -107.802867922), (-62.863206079, -107.279181038), (-62.891716507, -106.248645197), (-63.110564183, -104.732772387), (-63.46065389, -103.273911343), (-63.944034293, -101.870077484), (-64.58892236, -100.531852716), (-65.381414351, -99.261403271), (-66.292050092, -98.031067396), (-67.350642277, -96.891792113), (-68.489157633, -95.837464774), (-69.705712377, -94.920806149), (-70.972461458, -94.142816312), (-72.29354241, -93.497441008), (-73.676218135, -93.014427648), (-75.109611636, -92.660995244), (-76.594284119, -92.44494108), (-77.603617272, -92.415502156), (-78.113141026, -92.400641026)],
                knots=[0, 0, 0, 0, 1.042956736, 2.052379634, 3.044323526, 4.02829302, 5.004299113, 5.996692471, 7.007513377, 8.048758398, 9.090003419, 10.095195979, 11.07790575, 12.047570684, 13.018257071, 13.989683339, 14.985167495, 16, 16, 16, 16], degree=3))
        make_face(mode=Mode.SUBTRACT)
    extrude(amount=BOSS_EXTRUDE1_3_DEPTH, both=True)


with BuildPart() as body_5:
    # Sketch2 → Boss-Extrude1 4 (new, symmetric)
    with BuildSketch(Plane.XY):
        Polygon((-54.029273504, -88.330128205), (-48.930532185, -88.330128205), (-37.408012821, -116.145299145), (-24.783062901, -88.330128205), (-23.977440572, -88.330128205), (-11.628098291, -116.145299145), (0.000424012, -88.330128205), (4.993162393, -88.330128205), (-11.172285657, -127), (-12.158112981, -127), (-24.518055556, -99.18482906), (-37.132405182, -127), (-38.012229567, -127), align=None)
    extrude(amount=BOSS_EXTRUDE1_4_DEPTH, both=True)


solid = Compound([part.part, body_2.part, body_3.part, body_4.part, body_5.part])
